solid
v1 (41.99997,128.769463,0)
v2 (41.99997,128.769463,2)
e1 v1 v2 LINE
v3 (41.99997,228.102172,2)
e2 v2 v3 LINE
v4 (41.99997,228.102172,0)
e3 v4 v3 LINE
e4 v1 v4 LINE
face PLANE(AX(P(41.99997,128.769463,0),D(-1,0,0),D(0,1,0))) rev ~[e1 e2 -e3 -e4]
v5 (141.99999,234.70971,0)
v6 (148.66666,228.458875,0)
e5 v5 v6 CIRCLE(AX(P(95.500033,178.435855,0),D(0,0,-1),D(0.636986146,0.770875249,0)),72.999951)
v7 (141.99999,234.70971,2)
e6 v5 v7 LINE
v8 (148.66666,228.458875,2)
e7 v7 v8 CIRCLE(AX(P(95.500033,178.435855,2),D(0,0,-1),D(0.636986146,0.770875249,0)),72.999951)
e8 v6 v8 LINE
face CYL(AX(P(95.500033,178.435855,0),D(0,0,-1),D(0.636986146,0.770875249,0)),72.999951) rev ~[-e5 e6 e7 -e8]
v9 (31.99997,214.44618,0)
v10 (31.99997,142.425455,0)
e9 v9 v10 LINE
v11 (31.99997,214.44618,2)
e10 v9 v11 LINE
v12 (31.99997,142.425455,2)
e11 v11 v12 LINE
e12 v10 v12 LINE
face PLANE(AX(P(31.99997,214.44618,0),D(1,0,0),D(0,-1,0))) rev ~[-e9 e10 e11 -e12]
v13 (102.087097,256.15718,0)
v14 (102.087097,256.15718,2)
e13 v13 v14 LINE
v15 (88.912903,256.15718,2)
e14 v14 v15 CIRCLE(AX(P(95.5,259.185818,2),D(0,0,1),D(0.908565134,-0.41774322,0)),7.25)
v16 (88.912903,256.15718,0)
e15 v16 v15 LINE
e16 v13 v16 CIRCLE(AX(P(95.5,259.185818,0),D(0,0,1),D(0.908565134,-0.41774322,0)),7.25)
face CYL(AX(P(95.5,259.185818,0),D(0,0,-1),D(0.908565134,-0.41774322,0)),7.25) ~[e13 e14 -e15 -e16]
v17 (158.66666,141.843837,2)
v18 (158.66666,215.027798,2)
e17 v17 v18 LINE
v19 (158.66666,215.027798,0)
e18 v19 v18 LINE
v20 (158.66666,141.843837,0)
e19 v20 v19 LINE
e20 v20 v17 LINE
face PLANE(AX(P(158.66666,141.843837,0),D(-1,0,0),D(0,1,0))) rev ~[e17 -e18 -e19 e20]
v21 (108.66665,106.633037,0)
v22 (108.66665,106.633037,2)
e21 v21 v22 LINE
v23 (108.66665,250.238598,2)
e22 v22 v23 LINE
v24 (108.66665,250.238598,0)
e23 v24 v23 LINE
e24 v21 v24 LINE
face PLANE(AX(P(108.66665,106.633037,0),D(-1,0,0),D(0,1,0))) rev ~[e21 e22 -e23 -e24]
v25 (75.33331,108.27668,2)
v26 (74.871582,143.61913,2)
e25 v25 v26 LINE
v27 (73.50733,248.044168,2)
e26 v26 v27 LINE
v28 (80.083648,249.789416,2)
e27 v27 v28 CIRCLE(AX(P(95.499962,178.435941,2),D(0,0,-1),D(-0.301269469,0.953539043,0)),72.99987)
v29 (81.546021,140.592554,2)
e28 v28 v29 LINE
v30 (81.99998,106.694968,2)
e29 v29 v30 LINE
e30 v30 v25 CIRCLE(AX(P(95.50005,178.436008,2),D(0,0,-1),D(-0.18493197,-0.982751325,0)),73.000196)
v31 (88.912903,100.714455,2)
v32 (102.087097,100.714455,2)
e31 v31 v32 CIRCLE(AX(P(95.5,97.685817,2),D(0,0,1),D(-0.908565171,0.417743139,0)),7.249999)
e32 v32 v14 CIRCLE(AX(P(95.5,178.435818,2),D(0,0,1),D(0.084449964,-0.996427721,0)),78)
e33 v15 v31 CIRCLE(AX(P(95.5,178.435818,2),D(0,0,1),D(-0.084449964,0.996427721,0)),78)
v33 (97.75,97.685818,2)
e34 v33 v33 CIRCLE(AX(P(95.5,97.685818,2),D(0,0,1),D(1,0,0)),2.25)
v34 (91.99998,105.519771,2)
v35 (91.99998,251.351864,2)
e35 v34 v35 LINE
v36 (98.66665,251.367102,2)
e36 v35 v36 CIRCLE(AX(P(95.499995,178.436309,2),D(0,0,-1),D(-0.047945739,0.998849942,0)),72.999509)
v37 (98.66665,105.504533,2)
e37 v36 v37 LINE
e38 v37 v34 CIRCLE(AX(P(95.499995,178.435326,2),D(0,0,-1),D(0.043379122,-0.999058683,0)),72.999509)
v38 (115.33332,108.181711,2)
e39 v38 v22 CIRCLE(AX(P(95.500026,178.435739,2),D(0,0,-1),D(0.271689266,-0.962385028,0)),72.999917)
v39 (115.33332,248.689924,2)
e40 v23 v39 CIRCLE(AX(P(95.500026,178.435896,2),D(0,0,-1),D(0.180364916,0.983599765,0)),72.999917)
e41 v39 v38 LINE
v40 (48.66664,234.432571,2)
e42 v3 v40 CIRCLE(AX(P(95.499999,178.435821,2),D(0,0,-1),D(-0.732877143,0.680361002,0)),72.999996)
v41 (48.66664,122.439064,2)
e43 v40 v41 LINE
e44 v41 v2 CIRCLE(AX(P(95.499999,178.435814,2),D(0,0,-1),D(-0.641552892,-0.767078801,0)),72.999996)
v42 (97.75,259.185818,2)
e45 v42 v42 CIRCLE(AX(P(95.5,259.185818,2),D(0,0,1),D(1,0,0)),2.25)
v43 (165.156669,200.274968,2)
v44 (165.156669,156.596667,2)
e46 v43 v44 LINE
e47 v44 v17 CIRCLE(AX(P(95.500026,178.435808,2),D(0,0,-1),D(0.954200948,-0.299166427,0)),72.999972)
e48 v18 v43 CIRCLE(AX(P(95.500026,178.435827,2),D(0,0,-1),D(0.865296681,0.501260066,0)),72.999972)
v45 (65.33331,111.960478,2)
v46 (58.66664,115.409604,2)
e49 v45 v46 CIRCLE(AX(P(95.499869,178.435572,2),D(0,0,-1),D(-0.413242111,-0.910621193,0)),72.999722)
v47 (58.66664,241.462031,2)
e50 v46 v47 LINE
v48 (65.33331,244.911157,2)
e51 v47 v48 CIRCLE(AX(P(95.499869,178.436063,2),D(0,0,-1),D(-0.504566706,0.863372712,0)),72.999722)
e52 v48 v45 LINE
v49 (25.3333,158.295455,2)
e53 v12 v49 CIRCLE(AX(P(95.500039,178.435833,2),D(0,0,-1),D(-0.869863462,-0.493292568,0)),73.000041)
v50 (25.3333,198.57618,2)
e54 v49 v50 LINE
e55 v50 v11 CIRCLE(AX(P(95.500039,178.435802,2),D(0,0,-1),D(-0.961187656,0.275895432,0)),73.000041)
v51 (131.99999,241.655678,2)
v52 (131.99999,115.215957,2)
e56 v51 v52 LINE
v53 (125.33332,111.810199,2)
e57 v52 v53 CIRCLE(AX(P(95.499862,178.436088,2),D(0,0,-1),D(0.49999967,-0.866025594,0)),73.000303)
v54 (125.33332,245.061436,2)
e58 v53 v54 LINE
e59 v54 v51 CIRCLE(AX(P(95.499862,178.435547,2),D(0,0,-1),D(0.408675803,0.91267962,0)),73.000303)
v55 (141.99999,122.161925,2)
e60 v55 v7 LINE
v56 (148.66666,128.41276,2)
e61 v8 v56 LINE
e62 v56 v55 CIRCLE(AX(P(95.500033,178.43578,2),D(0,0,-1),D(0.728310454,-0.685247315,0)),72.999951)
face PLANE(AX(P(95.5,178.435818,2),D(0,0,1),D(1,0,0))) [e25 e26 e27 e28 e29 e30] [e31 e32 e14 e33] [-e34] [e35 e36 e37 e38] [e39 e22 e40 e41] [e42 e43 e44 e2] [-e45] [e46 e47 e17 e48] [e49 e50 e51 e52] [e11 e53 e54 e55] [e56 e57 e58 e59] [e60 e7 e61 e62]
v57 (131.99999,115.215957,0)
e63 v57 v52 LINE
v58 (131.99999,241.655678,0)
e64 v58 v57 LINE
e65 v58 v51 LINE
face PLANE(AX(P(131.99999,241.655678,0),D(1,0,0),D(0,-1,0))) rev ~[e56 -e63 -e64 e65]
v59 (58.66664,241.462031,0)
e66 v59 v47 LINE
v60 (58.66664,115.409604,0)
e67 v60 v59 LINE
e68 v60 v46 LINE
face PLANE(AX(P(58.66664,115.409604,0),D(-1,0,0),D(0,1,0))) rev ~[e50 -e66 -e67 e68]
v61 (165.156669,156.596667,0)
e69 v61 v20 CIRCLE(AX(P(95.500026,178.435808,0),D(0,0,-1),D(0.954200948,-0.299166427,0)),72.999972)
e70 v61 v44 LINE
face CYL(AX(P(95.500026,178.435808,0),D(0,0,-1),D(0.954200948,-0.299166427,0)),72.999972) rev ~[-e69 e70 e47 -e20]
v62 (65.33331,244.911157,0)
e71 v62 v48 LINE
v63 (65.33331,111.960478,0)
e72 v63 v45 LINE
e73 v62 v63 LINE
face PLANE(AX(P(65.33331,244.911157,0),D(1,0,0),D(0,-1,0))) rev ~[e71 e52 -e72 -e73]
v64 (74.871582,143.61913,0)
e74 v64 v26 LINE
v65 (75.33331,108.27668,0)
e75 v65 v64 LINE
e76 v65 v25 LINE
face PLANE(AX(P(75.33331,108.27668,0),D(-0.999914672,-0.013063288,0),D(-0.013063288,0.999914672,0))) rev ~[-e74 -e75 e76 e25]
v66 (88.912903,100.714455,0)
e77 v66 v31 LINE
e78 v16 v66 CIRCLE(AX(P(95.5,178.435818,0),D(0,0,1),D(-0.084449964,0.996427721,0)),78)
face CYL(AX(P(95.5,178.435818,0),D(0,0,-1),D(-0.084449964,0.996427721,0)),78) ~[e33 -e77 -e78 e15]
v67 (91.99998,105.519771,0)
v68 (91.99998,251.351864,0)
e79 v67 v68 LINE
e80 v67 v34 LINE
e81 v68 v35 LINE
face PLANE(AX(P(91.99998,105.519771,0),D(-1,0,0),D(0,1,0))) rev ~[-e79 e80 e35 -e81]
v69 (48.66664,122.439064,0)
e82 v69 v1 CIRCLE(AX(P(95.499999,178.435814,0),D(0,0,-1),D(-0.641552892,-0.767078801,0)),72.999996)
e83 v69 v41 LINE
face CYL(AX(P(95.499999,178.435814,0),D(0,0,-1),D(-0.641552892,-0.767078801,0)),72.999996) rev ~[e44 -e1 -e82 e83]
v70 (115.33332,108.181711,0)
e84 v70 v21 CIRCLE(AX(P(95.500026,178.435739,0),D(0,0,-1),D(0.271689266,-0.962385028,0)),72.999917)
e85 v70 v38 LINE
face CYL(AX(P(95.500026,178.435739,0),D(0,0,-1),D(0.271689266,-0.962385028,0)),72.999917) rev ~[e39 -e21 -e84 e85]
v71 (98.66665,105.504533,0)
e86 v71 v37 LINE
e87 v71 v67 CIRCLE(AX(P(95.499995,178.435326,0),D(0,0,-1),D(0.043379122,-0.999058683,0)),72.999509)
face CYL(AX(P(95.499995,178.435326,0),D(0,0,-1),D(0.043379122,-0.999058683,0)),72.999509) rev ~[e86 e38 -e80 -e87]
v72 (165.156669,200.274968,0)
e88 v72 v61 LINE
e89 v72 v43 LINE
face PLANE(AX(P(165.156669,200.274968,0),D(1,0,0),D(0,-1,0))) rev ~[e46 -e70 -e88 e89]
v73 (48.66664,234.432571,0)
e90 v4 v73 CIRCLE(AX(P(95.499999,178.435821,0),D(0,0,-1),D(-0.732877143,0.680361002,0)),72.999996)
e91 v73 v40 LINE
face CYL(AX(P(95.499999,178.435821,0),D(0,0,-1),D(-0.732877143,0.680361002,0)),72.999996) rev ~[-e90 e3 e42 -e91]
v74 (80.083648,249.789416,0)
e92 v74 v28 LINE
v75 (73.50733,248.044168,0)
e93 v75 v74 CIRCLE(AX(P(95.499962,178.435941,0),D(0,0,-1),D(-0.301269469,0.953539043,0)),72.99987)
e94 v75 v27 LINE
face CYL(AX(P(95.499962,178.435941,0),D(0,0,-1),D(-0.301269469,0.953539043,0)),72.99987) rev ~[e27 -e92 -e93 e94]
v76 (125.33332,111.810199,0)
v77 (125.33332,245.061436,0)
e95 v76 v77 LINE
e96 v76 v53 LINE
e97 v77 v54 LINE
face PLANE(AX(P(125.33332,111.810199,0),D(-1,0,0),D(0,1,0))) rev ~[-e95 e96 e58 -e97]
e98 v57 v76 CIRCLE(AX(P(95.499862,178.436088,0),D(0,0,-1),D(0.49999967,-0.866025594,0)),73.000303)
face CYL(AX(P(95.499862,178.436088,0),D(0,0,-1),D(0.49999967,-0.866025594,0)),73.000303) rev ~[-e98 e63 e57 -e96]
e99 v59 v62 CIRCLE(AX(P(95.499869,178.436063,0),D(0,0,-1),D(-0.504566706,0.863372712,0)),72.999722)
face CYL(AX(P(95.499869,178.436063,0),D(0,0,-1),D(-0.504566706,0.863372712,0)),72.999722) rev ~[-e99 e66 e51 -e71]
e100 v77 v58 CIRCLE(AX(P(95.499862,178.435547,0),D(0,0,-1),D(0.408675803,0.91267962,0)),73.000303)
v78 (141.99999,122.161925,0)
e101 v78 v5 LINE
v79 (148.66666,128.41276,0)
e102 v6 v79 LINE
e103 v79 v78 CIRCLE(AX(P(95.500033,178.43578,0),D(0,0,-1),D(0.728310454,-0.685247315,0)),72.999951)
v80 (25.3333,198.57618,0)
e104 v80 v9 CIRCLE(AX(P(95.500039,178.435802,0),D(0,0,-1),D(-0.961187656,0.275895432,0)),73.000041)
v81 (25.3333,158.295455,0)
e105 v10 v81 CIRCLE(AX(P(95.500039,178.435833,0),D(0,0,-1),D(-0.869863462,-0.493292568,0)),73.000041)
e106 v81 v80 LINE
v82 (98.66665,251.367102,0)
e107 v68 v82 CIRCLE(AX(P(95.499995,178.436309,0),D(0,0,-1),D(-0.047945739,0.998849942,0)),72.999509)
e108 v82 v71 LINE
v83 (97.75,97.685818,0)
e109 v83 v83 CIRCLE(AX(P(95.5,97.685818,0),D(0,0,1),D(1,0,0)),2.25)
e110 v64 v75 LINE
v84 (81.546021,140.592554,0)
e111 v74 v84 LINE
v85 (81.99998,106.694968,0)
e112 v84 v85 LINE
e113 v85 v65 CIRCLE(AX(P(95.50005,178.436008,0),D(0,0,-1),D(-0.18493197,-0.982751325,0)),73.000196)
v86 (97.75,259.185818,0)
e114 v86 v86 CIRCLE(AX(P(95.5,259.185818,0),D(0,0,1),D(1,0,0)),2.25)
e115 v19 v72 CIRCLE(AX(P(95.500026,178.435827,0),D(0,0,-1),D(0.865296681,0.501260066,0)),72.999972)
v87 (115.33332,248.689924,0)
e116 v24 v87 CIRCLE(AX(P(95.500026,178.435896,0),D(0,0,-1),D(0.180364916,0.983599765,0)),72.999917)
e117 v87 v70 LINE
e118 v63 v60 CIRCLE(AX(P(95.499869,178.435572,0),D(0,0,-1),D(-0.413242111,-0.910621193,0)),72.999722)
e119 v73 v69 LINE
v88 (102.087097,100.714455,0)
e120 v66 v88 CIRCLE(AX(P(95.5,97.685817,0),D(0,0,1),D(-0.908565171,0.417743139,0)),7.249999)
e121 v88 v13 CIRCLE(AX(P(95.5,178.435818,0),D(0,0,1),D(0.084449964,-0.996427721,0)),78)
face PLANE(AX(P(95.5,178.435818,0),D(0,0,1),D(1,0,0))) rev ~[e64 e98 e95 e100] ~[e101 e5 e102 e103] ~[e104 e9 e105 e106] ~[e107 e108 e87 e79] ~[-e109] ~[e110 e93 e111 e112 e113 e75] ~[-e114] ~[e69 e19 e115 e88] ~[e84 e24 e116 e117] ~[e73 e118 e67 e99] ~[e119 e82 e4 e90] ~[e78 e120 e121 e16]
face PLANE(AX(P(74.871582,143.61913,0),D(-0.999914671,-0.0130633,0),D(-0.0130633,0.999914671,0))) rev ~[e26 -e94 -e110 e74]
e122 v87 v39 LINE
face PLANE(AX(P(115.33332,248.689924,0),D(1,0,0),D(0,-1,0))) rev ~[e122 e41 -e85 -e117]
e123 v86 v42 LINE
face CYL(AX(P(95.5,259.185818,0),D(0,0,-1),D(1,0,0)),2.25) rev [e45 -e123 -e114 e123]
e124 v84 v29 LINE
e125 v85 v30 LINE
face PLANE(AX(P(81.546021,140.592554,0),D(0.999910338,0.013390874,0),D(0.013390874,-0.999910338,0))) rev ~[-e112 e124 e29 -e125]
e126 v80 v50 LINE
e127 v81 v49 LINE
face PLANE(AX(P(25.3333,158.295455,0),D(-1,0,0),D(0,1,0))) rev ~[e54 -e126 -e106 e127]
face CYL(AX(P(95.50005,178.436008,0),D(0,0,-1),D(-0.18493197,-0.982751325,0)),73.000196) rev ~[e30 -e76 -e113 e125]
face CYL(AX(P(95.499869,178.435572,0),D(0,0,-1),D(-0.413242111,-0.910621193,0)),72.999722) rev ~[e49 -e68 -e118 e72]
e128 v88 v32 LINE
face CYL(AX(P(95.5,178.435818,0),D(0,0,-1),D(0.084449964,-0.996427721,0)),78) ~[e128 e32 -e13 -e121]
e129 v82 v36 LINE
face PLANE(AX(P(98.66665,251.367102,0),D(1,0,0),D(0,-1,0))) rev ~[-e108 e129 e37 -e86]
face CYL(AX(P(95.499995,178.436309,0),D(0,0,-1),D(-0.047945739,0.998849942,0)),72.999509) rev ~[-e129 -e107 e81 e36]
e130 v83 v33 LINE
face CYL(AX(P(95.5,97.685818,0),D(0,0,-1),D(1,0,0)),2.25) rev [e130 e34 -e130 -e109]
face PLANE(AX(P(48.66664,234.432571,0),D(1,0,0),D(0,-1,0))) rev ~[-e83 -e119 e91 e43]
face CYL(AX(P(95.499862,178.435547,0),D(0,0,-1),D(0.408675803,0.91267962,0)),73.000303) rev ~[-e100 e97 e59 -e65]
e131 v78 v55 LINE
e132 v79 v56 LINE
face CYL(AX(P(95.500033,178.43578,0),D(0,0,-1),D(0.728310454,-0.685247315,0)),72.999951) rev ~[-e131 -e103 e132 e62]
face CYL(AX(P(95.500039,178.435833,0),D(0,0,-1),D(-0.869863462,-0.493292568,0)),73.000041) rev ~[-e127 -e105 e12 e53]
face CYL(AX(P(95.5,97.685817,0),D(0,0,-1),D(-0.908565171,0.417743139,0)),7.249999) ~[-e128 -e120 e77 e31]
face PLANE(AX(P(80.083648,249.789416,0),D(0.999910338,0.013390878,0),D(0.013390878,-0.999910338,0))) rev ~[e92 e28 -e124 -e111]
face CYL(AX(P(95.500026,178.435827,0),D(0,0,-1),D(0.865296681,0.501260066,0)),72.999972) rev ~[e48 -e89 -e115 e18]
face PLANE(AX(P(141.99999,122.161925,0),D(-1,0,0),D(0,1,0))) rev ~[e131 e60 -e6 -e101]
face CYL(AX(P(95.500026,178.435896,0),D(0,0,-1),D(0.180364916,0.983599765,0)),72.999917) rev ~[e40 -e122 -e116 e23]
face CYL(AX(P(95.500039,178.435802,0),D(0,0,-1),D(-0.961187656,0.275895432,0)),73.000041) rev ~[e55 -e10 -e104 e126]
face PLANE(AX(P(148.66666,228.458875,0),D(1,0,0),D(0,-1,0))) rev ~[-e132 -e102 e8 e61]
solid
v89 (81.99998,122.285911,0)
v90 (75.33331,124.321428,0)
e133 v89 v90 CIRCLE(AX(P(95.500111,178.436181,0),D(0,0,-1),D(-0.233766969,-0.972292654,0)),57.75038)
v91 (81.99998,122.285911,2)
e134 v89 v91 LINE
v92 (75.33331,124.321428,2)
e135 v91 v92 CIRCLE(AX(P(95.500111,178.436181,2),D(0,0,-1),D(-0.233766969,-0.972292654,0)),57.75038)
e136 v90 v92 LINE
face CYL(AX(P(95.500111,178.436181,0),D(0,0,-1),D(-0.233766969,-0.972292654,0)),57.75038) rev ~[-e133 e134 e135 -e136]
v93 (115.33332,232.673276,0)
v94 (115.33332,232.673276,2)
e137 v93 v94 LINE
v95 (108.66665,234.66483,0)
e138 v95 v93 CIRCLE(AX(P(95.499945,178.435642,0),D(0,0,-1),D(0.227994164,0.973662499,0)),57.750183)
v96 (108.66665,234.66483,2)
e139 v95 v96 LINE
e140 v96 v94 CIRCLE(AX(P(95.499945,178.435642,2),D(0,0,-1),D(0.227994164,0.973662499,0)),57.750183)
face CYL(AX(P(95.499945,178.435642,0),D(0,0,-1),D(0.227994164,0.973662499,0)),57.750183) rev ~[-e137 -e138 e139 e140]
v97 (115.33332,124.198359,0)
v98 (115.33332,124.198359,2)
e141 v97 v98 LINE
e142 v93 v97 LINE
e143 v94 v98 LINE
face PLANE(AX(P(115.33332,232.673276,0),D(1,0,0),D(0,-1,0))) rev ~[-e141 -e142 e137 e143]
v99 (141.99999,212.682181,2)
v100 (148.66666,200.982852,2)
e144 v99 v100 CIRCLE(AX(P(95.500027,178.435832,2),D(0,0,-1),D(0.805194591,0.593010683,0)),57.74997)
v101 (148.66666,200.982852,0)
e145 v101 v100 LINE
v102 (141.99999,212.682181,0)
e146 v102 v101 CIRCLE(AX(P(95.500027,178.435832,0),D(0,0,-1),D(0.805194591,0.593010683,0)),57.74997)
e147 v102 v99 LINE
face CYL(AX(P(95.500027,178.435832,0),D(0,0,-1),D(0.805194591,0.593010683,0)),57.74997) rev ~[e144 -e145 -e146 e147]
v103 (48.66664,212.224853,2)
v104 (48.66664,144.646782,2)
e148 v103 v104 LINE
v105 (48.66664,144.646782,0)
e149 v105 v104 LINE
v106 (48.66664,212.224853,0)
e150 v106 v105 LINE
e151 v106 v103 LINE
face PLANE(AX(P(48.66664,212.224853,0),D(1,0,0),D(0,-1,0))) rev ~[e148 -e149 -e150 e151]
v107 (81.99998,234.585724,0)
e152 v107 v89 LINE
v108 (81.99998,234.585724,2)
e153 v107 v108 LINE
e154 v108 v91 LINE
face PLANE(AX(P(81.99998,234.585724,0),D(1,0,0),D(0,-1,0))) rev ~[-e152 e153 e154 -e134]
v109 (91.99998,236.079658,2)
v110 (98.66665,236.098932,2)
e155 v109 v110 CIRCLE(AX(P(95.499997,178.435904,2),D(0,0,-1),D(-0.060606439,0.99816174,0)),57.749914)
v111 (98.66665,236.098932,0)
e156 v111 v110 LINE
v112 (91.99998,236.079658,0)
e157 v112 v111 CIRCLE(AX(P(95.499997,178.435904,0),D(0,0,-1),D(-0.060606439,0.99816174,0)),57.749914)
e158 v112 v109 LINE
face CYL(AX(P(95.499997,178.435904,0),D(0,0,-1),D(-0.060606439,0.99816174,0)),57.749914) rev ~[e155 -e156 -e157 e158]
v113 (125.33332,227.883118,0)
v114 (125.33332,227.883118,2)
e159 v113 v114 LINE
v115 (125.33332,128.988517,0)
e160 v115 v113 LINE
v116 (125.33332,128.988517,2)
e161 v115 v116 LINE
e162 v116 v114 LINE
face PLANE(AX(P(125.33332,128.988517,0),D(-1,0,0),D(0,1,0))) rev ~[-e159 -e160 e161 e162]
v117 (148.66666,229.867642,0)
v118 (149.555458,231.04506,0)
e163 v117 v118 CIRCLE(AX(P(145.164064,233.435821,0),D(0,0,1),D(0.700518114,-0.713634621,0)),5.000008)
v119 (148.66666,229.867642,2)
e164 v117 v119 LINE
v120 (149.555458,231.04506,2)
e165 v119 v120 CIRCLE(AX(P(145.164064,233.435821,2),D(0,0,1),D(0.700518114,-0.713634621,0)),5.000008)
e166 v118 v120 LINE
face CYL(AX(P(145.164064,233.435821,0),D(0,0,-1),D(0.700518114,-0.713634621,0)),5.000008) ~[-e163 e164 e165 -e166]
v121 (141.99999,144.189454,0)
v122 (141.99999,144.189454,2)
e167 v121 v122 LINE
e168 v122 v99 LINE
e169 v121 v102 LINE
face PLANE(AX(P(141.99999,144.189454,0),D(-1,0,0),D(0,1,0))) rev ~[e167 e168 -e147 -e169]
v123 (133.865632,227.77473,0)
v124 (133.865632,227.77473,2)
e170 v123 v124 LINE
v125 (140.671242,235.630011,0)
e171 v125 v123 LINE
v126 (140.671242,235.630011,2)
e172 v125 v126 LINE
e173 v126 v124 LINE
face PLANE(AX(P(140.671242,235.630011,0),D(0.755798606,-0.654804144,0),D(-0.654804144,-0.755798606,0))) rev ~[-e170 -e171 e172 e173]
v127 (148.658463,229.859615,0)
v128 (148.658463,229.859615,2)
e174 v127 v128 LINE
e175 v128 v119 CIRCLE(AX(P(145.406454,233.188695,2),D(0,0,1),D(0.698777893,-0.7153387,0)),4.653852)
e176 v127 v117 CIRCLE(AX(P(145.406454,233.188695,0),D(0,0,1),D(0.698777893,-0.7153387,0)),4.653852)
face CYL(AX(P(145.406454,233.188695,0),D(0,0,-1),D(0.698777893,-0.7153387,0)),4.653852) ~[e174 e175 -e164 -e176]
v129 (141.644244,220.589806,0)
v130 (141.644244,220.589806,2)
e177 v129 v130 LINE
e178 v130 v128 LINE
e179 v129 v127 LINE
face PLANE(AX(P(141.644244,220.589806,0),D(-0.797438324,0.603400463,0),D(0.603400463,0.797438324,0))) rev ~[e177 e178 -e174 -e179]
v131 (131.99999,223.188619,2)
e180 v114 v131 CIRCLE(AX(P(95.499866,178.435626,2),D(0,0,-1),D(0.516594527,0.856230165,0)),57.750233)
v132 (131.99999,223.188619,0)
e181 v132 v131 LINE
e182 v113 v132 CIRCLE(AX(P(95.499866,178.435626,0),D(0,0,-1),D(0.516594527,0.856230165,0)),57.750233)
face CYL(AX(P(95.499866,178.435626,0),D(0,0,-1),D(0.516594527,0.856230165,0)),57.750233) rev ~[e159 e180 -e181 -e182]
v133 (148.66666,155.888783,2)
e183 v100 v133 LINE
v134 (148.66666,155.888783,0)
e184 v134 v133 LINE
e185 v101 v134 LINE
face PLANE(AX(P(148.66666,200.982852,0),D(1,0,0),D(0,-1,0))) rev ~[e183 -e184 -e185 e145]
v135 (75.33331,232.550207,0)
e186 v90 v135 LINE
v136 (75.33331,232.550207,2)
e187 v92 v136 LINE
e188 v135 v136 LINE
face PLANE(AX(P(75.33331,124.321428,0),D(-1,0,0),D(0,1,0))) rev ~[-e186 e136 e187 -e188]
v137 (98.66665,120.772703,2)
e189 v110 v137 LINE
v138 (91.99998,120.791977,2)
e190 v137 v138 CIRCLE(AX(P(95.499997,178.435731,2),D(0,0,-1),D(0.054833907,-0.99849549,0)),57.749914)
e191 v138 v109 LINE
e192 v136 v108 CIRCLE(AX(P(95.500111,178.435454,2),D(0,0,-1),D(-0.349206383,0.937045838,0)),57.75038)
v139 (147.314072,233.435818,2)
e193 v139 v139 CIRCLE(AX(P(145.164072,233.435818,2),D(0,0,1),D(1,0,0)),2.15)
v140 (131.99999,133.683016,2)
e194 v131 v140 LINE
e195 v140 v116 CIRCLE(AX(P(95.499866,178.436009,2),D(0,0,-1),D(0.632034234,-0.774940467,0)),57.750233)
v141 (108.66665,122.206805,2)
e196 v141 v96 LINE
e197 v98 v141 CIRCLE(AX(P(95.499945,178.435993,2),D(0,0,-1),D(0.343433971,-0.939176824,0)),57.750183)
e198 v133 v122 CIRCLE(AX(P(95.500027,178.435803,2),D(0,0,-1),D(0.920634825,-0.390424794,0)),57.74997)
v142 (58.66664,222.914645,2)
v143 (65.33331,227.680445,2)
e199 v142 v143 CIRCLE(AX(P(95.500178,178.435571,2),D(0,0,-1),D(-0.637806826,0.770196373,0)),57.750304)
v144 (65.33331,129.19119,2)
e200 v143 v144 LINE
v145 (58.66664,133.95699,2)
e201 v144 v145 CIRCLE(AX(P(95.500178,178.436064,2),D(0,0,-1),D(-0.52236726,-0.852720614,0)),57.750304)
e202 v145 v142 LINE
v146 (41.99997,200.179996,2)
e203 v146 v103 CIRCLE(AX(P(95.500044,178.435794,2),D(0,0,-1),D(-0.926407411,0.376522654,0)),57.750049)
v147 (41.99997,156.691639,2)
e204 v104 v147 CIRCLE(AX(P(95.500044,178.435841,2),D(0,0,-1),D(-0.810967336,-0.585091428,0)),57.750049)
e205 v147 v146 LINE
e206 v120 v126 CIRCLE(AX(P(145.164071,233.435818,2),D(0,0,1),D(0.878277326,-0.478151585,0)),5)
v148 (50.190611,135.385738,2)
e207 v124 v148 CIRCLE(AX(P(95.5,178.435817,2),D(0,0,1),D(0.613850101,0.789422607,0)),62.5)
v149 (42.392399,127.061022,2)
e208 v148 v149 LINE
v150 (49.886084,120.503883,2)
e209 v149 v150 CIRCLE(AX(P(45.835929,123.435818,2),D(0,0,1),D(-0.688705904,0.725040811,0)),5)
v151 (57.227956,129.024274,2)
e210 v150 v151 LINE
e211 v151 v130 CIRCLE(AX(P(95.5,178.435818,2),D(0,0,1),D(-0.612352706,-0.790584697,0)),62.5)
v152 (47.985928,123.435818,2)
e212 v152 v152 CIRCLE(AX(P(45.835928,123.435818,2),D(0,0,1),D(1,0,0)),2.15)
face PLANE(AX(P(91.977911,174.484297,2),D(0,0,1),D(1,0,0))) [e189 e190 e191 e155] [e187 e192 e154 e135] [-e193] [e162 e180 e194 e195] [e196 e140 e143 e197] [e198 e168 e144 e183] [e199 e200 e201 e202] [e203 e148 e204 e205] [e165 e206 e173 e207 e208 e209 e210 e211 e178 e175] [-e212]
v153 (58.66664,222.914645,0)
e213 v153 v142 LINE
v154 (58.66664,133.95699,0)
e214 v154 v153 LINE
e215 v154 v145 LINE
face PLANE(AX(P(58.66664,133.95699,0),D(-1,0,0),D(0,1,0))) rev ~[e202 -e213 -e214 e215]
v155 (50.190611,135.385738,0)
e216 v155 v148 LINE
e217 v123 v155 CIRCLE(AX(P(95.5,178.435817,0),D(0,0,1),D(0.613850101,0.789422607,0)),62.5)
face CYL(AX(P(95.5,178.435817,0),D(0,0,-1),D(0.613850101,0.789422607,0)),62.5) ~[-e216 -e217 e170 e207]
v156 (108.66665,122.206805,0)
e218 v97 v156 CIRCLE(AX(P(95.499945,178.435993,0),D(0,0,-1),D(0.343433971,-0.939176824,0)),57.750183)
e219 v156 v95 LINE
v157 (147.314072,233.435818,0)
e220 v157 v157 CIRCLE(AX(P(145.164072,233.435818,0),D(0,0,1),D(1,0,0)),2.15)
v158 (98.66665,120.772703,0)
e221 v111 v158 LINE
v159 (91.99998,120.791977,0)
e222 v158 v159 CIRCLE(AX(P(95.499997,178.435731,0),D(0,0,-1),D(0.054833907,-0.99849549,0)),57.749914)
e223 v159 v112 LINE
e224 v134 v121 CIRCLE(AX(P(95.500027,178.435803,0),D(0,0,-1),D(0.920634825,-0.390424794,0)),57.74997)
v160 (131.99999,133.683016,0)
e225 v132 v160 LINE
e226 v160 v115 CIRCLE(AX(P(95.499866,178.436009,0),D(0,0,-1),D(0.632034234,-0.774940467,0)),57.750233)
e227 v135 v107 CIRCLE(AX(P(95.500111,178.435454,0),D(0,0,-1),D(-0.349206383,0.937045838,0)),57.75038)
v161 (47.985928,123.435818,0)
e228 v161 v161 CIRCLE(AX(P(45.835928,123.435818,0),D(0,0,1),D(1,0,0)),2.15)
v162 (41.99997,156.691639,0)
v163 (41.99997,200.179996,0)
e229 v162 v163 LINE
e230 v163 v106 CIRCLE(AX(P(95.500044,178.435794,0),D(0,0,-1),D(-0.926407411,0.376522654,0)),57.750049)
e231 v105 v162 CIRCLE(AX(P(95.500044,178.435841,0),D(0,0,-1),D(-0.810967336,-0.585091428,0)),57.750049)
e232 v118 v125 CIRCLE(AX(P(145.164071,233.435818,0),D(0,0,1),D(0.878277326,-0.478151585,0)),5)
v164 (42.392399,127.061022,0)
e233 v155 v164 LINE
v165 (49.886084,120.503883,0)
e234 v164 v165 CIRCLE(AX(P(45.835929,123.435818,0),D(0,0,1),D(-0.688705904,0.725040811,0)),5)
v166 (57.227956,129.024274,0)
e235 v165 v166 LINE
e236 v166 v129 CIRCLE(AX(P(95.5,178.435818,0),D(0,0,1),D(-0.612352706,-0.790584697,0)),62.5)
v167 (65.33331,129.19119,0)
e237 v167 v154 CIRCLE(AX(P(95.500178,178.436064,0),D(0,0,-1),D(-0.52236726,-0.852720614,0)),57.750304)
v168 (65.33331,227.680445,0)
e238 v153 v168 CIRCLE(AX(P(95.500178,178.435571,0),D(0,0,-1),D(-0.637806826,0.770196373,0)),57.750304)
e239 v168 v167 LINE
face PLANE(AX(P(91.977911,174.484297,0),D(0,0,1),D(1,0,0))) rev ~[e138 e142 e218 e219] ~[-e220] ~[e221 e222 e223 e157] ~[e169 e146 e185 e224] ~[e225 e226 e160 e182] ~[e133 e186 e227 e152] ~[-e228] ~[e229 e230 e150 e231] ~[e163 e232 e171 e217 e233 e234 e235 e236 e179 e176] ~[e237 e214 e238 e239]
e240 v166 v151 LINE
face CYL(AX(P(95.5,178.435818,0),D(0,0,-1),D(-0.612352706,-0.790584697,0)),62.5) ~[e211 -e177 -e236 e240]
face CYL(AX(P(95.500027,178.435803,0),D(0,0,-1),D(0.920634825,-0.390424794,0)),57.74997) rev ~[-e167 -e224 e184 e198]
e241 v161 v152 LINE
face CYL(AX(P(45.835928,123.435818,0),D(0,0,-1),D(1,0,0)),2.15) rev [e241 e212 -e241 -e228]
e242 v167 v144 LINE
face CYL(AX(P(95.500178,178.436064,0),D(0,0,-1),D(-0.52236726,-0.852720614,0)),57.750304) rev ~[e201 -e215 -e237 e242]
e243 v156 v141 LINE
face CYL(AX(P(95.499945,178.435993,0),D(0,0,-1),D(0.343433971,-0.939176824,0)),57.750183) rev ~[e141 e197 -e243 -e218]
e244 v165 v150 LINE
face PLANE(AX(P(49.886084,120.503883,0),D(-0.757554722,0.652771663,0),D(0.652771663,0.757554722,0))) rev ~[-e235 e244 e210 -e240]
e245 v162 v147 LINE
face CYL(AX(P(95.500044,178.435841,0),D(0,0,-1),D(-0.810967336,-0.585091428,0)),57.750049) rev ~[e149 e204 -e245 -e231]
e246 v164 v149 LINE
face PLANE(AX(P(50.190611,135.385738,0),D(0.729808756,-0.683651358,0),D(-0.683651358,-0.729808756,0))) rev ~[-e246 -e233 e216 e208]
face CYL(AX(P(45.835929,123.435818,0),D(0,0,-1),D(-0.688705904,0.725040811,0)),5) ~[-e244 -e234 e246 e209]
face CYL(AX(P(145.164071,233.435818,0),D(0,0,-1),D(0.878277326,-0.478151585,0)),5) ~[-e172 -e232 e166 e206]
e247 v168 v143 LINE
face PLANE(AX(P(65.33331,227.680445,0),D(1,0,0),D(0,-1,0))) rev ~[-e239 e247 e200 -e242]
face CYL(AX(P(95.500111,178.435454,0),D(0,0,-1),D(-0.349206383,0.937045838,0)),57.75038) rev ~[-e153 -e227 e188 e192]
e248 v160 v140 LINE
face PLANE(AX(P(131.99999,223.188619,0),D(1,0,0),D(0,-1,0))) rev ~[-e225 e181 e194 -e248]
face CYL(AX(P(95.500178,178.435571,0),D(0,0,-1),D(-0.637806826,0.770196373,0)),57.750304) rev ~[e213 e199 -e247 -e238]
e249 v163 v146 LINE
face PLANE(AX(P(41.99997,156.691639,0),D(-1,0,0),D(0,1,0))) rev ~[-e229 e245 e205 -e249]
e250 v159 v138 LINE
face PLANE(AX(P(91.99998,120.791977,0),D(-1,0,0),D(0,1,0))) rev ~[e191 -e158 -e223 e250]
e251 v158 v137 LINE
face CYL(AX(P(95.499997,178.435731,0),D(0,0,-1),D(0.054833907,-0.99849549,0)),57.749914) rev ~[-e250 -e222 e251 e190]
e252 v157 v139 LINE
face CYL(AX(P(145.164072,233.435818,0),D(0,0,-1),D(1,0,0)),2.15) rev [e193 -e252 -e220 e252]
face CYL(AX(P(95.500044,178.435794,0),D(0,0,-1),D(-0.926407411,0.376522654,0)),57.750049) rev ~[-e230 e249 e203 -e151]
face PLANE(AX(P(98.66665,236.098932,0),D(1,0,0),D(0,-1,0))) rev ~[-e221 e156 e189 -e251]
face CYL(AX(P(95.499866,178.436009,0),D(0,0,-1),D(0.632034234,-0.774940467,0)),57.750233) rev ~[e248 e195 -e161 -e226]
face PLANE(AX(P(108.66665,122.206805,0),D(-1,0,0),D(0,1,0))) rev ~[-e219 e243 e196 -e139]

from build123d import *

# Parameters (mm, degrees)
F2_R     = 2.25
F3_DEPTH = 2
F4_R     = 2.15
F5_DEPTH = 2


with BuildPart() as f3:
    # F2 (on Top) → F3 (new body)
    with BuildSketch(Plane.XY):
        with BuildLine():
            ThreePointArc((88.912903, 100.714455), (95.5, 90.435818), (102.087097, 100.714455))
            ThreePointArc((102.087097, 100.714455), (173.5, 178.435818), (102.087097, 256.15718))
            ThreePointArc((102.087097, 256.15718), (95.5, 266.435818), (88.912903, 256.15718))
            ThreePointArc((88.912903, 256.15718), (17.5, 178.435818), (88.912903, 100.714455))
        make_face()
        with Locations((95.5, 97.685818)):
            Circle(F2_R, mode=Mode.SUBTRACT)
        with BuildLine():
            ThreePointArc((48.66664, 122.439064), (45.233552, 125.499212), (41.99997, 128.769463))
            Line((41.99997, 128.769463), (41.99997, 228.102172))
            ThreePointArc((41.99997, 228.102172), (45.233552, 231.372423), (48.66664, 234.432571))
            Line((48.66664, 234.432571), (48.66664, 122.439064))
        make_face(mode=Mode.SUBTRACT)
        with BuildLine():
            ThreePointArc((73.50733, 248.044168), (76.775145, 248.993452), (80.083648, 249.789416))
            Line((80.083648, 249.789416), (81.546021, 140.592554))
            Line((81.546021, 140.592554), (81.99998, 106.694968))
            ThreePointArc((81.99998, 106.694968), (78.648077, 107.407565), (75.33331, 108.27668))
            Line((75.33331, 108.27668), (74.871582, 143.61913))
            Line((74.871582, 143.61913), (73.50733, 248.044168))
        make_face(mode=Mode.SUBTRACT)
        with BuildLine():
            ThreePointArc((31.99997, 142.425455), (28.19723, 150.163267), (25.3333, 158.295455))
            Line((25.3333, 158.295455), (25.3333, 198.57618))
            ThreePointArc((25.3333, 198.57618), (28.19723, 206.708368), (31.99997, 214.44618))
            Line((31.99997, 214.44618), (31.99997, 142.425455))
        make_face(mode=Mode.SUBTRACT)
        with BuildLine():
            ThreePointArc((65.33331, 111.960478), (61.955615, 113.599298), (58.66664, 115.409604))
            Line((58.66664, 115.409604), (58.66664, 194.034009))
            Line((58.66664, 194.034009), (58.66664, 241.462031))
            ThreePointArc((58.66664, 241.462031), (61.955615, 243.272337), (65.33331, 244.911157))
            Line((65.33331, 244.911157), (65.33331, 204.703113))
            Line((65.33331, 204.703113), (65.33331, 111.960478))
        make_face(mode=Mode.SUBTRACT)
        with BuildLine():
            ThreePointArc((98.66665, 105.504533), (95.333141, 105.436008), (91.99998, 105.519771))
            Line((91.99998, 105.519771), (91.99998, 138.589238))
            Line((91.99998, 138.589238), (91.99998, 251.351864))
            ThreePointArc((91.99998, 251.351864), (95.333141, 251.435627), (98.66665, 251.367102))
            Line((98.66665, 251.367102), (98.66665, 138.56136))
            Line((98.66665, 138.56136), (98.66665, 105.504533))
        make_face(mode=Mode.SUBTRACT)
        with Locations((95.5, 259.185818)):
            Circle(F2_R, mode=Mode.SUBTRACT)
        with BuildLine():
            ThreePointArc((115.33332, 108.181711), (112.018145, 107.329201), (108.66665, 106.633037))
            Line((108.66665, 106.633037), (108.66665, 140.664938))
            Line((108.66665, 140.664938), (108.66665, 250.238598))
            ThreePointArc((108.66665, 250.238598), (112.018145, 249.542434), (115.33332, 248.689924))
            Line((115.33332, 248.689924), (115.33332, 143.699102))
            Line((115.33332, 143.699102), (115.33332, 108.181711))
        make_face(mode=Mode.SUBTRACT)
        with BuildLine():
            ThreePointArc((131.99999, 115.215957), (128.710342, 113.427563), (125.33332, 111.810199))
            Line((125.33332, 111.810199), (125.33332, 151.790499))
            Line((125.33332, 151.790499), (125.33332, 245.061436))
            ThreePointArc((125.33332, 245.061436), (128.710342, 243.444072), (131.99999, 241.655678))
            Line((131.99999, 241.655678), (131.99999, 162.072727))
            Line((131.99999, 162.072727), (131.99999, 115.215957))
        make_face(mode=Mode.SUBTRACT)
        with BuildLine():
            ThreePointArc((148.66666, 128.41276), (145.431238, 125.182916), (141.99999, 122.161925))
            Line((141.99999, 122.161925), (141.99999, 234.70971))
            ThreePointArc((141.99999, 234.70971), (145.431238, 231.688719), (148.66666, 228.458875))
            Line((148.66666, 228.458875), (148.66666, 128.41276))
        make_face(mode=Mode.SUBTRACT)
        with BuildLine():
            ThreePointArc((165.156669, 156.596667), (162.320062, 149.040591), (158.66666, 141.843837))
            Line((158.66666, 141.843837), (158.66666, 215.027798))
            ThreePointArc((158.66666, 215.027798), (162.320062, 207.831044), (165.156669, 200.274968))
            Line((165.156669, 200.274968), (165.156669, 156.596667))
        make_face(mode=Mode.SUBTRACT)
    extrude(amount=F3_DEPTH)


with BuildPart() as f5:
    # F4 (on Top) → F5 (new body)
    with BuildSketch(Plane.XY):
        with BuildLine():
            Line((49.886084, 120.503883), (57.227956, 129.024274))
            ThreePointArc((57.227956, 129.024274), (141.451654, 136.071971), (141.644244, 220.589806))
            ThreePointArc((141.644244, 220.589806), (137.907377, 224.347302), (133.865632, 227.77473))
            ThreePointArc((133.865632, 227.77473), (49.175219, 220.391325), (50.190611, 135.385738))
            Line((50.190611, 135.385738), (42.392399, 127.061022))
            ThreePointArc((42.392399, 127.061022), (42.543359, 119.672975), (49.886084, 120.503883))
        make_face()
        with Locations((45.835928, 123.435818)):
            Circle(F4_R, mode=Mode.SUBTRACT)
        with BuildLine():
            Line((48.66664, 212.224853), (48.66664, 144.646782))
            ThreePointArc((48.66664, 144.646782), (44.973107, 150.469846), (41.99997, 156.691639))
            Line((41.99997, 156.691639), (41.99997, 200.179996))
            ThreePointArc((41.99997, 200.179996), (44.973107, 206.401789), (48.66664, 212.224853))
        make_face(mode=Mode.SUBTRACT)
        with BuildLine():
            Line((65.33331, 227.680445), (65.33331, 129.19119))
            ThreePointArc((65.33331, 129.19119), (61.915333, 131.455688), (58.66664, 133.95699))
            Line((58.66664, 133.95699), (58.66664, 222.914645))
            ThreePointArc((58.66664, 222.914645), (61.915333, 225.415947), (65.33331, 227.680445))
        make_face(mode=Mode.SUBTRACT)
        with BuildLine():
            Line((81.99998, 234.585724), (81.99998, 122.285911))
            ThreePointArc((81.99998, 122.285911), (78.635906, 123.202994), (75.33331, 124.321428))
            Line((75.33331, 124.321428), (75.33331, 232.550207))
            ThreePointArc((75.33331, 232.550207), (78.635906, 233.668641), (81.99998, 234.585724))
        make_face(mode=Mode.SUBTRACT)
        with BuildLine():
            Line((98.66665, 236.098932), (98.66665, 120.772703))
            ThreePointArc((98.66665, 120.772703), (95.333037, 120.686059), (91.99998, 120.791977))
            Line((91.99998, 120.791977), (91.99998, 236.079658))
            ThreePointArc((91.99998, 236.079658), (95.333037, 236.185576), (98.66665, 236.098932))
        make_face(mode=Mode.SUBTRACT)
        with BuildLine():
            Line((108.66665, 122.206805), (108.66665, 234.66483))
            ThreePointArc((108.66665, 234.66483), (112.030005, 233.769545), (115.33332, 232.673276))
            Line((115.33332, 232.673276), (115.33332, 124.198359))
            ThreePointArc((115.33332, 124.198359), (112.030005, 123.10209), (108.66665, 122.206805))
        make_face(mode=Mode.SUBTRACT)
        with BuildLine():
            Line((125.33332, 128.988517), (125.33332, 227.883118))
            ThreePointArc((125.33332, 227.883118), (128.74961, 225.653673), (131.99999, 223.188619))
            Line((131.99999, 223.188619), (131.99999, 133.683016))
            ThreePointArc((131.99999, 133.683016), (128.74961, 131.217962), (125.33332, 128.988517))
        make_face(mode=Mode.SUBTRACT)
        with BuildLine():
            Line((148.66666, 200.982852), (148.66666, 155.888783))
            ThreePointArc((148.66666, 155.888783), (145.675481, 149.844147), (141.99999, 144.189454))
            Line((141.99999, 144.189454), (141.99999, 212.682181))
            ThreePointArc((141.99999, 212.682181), (145.675481, 207.027488), (148.66666, 200.982852))
        make_face(mode=Mode.SUBTRACT)
        with BuildLine():
            ThreePointArc((133.865632, 227.77473), (137.907377, 224.347302), (141.644244, 220.589806))
            Line((141.644244, 220.589806), (148.658463, 229.859615))
            Line((148.658463, 229.859615), (148.66666, 229.870447))
            Line((148.66666, 229.870447), (149.555458, 231.04506))
            ThreePointArc((149.555458, 231.04506), (147.457108, 237.879013), (140.671242, 235.630011))
            Line((140.671242, 235.630011), (133.865632, 227.77473))
        make_face()
        with Locations((145.164072, 233.435818)):
            Circle(F4_R, mode=Mode.SUBTRACT)
        with BuildLine():
            Line((148.66666, 229.870447), (148.658463, 229.859615))
            ThreePointArc((148.658463, 229.859615), (148.662564, 229.863626), (148.66666, 229.867642))
            Line((148.66666, 229.867642), (148.66666, 229.870447))
        make_face()
        with BuildLine():
            Line((148.66666, 229.870447), (148.66666, 229.867642))
            ThreePointArc((148.66666, 229.867642), (149.154722, 230.423392), (149.555458, 231.04506))
            Line((149.555458, 231.04506), (148.66666, 229.870447))
        make_face()
    extrude(amount=F5_DEPTH)


solid = Compound([f3.part, f5.part])
